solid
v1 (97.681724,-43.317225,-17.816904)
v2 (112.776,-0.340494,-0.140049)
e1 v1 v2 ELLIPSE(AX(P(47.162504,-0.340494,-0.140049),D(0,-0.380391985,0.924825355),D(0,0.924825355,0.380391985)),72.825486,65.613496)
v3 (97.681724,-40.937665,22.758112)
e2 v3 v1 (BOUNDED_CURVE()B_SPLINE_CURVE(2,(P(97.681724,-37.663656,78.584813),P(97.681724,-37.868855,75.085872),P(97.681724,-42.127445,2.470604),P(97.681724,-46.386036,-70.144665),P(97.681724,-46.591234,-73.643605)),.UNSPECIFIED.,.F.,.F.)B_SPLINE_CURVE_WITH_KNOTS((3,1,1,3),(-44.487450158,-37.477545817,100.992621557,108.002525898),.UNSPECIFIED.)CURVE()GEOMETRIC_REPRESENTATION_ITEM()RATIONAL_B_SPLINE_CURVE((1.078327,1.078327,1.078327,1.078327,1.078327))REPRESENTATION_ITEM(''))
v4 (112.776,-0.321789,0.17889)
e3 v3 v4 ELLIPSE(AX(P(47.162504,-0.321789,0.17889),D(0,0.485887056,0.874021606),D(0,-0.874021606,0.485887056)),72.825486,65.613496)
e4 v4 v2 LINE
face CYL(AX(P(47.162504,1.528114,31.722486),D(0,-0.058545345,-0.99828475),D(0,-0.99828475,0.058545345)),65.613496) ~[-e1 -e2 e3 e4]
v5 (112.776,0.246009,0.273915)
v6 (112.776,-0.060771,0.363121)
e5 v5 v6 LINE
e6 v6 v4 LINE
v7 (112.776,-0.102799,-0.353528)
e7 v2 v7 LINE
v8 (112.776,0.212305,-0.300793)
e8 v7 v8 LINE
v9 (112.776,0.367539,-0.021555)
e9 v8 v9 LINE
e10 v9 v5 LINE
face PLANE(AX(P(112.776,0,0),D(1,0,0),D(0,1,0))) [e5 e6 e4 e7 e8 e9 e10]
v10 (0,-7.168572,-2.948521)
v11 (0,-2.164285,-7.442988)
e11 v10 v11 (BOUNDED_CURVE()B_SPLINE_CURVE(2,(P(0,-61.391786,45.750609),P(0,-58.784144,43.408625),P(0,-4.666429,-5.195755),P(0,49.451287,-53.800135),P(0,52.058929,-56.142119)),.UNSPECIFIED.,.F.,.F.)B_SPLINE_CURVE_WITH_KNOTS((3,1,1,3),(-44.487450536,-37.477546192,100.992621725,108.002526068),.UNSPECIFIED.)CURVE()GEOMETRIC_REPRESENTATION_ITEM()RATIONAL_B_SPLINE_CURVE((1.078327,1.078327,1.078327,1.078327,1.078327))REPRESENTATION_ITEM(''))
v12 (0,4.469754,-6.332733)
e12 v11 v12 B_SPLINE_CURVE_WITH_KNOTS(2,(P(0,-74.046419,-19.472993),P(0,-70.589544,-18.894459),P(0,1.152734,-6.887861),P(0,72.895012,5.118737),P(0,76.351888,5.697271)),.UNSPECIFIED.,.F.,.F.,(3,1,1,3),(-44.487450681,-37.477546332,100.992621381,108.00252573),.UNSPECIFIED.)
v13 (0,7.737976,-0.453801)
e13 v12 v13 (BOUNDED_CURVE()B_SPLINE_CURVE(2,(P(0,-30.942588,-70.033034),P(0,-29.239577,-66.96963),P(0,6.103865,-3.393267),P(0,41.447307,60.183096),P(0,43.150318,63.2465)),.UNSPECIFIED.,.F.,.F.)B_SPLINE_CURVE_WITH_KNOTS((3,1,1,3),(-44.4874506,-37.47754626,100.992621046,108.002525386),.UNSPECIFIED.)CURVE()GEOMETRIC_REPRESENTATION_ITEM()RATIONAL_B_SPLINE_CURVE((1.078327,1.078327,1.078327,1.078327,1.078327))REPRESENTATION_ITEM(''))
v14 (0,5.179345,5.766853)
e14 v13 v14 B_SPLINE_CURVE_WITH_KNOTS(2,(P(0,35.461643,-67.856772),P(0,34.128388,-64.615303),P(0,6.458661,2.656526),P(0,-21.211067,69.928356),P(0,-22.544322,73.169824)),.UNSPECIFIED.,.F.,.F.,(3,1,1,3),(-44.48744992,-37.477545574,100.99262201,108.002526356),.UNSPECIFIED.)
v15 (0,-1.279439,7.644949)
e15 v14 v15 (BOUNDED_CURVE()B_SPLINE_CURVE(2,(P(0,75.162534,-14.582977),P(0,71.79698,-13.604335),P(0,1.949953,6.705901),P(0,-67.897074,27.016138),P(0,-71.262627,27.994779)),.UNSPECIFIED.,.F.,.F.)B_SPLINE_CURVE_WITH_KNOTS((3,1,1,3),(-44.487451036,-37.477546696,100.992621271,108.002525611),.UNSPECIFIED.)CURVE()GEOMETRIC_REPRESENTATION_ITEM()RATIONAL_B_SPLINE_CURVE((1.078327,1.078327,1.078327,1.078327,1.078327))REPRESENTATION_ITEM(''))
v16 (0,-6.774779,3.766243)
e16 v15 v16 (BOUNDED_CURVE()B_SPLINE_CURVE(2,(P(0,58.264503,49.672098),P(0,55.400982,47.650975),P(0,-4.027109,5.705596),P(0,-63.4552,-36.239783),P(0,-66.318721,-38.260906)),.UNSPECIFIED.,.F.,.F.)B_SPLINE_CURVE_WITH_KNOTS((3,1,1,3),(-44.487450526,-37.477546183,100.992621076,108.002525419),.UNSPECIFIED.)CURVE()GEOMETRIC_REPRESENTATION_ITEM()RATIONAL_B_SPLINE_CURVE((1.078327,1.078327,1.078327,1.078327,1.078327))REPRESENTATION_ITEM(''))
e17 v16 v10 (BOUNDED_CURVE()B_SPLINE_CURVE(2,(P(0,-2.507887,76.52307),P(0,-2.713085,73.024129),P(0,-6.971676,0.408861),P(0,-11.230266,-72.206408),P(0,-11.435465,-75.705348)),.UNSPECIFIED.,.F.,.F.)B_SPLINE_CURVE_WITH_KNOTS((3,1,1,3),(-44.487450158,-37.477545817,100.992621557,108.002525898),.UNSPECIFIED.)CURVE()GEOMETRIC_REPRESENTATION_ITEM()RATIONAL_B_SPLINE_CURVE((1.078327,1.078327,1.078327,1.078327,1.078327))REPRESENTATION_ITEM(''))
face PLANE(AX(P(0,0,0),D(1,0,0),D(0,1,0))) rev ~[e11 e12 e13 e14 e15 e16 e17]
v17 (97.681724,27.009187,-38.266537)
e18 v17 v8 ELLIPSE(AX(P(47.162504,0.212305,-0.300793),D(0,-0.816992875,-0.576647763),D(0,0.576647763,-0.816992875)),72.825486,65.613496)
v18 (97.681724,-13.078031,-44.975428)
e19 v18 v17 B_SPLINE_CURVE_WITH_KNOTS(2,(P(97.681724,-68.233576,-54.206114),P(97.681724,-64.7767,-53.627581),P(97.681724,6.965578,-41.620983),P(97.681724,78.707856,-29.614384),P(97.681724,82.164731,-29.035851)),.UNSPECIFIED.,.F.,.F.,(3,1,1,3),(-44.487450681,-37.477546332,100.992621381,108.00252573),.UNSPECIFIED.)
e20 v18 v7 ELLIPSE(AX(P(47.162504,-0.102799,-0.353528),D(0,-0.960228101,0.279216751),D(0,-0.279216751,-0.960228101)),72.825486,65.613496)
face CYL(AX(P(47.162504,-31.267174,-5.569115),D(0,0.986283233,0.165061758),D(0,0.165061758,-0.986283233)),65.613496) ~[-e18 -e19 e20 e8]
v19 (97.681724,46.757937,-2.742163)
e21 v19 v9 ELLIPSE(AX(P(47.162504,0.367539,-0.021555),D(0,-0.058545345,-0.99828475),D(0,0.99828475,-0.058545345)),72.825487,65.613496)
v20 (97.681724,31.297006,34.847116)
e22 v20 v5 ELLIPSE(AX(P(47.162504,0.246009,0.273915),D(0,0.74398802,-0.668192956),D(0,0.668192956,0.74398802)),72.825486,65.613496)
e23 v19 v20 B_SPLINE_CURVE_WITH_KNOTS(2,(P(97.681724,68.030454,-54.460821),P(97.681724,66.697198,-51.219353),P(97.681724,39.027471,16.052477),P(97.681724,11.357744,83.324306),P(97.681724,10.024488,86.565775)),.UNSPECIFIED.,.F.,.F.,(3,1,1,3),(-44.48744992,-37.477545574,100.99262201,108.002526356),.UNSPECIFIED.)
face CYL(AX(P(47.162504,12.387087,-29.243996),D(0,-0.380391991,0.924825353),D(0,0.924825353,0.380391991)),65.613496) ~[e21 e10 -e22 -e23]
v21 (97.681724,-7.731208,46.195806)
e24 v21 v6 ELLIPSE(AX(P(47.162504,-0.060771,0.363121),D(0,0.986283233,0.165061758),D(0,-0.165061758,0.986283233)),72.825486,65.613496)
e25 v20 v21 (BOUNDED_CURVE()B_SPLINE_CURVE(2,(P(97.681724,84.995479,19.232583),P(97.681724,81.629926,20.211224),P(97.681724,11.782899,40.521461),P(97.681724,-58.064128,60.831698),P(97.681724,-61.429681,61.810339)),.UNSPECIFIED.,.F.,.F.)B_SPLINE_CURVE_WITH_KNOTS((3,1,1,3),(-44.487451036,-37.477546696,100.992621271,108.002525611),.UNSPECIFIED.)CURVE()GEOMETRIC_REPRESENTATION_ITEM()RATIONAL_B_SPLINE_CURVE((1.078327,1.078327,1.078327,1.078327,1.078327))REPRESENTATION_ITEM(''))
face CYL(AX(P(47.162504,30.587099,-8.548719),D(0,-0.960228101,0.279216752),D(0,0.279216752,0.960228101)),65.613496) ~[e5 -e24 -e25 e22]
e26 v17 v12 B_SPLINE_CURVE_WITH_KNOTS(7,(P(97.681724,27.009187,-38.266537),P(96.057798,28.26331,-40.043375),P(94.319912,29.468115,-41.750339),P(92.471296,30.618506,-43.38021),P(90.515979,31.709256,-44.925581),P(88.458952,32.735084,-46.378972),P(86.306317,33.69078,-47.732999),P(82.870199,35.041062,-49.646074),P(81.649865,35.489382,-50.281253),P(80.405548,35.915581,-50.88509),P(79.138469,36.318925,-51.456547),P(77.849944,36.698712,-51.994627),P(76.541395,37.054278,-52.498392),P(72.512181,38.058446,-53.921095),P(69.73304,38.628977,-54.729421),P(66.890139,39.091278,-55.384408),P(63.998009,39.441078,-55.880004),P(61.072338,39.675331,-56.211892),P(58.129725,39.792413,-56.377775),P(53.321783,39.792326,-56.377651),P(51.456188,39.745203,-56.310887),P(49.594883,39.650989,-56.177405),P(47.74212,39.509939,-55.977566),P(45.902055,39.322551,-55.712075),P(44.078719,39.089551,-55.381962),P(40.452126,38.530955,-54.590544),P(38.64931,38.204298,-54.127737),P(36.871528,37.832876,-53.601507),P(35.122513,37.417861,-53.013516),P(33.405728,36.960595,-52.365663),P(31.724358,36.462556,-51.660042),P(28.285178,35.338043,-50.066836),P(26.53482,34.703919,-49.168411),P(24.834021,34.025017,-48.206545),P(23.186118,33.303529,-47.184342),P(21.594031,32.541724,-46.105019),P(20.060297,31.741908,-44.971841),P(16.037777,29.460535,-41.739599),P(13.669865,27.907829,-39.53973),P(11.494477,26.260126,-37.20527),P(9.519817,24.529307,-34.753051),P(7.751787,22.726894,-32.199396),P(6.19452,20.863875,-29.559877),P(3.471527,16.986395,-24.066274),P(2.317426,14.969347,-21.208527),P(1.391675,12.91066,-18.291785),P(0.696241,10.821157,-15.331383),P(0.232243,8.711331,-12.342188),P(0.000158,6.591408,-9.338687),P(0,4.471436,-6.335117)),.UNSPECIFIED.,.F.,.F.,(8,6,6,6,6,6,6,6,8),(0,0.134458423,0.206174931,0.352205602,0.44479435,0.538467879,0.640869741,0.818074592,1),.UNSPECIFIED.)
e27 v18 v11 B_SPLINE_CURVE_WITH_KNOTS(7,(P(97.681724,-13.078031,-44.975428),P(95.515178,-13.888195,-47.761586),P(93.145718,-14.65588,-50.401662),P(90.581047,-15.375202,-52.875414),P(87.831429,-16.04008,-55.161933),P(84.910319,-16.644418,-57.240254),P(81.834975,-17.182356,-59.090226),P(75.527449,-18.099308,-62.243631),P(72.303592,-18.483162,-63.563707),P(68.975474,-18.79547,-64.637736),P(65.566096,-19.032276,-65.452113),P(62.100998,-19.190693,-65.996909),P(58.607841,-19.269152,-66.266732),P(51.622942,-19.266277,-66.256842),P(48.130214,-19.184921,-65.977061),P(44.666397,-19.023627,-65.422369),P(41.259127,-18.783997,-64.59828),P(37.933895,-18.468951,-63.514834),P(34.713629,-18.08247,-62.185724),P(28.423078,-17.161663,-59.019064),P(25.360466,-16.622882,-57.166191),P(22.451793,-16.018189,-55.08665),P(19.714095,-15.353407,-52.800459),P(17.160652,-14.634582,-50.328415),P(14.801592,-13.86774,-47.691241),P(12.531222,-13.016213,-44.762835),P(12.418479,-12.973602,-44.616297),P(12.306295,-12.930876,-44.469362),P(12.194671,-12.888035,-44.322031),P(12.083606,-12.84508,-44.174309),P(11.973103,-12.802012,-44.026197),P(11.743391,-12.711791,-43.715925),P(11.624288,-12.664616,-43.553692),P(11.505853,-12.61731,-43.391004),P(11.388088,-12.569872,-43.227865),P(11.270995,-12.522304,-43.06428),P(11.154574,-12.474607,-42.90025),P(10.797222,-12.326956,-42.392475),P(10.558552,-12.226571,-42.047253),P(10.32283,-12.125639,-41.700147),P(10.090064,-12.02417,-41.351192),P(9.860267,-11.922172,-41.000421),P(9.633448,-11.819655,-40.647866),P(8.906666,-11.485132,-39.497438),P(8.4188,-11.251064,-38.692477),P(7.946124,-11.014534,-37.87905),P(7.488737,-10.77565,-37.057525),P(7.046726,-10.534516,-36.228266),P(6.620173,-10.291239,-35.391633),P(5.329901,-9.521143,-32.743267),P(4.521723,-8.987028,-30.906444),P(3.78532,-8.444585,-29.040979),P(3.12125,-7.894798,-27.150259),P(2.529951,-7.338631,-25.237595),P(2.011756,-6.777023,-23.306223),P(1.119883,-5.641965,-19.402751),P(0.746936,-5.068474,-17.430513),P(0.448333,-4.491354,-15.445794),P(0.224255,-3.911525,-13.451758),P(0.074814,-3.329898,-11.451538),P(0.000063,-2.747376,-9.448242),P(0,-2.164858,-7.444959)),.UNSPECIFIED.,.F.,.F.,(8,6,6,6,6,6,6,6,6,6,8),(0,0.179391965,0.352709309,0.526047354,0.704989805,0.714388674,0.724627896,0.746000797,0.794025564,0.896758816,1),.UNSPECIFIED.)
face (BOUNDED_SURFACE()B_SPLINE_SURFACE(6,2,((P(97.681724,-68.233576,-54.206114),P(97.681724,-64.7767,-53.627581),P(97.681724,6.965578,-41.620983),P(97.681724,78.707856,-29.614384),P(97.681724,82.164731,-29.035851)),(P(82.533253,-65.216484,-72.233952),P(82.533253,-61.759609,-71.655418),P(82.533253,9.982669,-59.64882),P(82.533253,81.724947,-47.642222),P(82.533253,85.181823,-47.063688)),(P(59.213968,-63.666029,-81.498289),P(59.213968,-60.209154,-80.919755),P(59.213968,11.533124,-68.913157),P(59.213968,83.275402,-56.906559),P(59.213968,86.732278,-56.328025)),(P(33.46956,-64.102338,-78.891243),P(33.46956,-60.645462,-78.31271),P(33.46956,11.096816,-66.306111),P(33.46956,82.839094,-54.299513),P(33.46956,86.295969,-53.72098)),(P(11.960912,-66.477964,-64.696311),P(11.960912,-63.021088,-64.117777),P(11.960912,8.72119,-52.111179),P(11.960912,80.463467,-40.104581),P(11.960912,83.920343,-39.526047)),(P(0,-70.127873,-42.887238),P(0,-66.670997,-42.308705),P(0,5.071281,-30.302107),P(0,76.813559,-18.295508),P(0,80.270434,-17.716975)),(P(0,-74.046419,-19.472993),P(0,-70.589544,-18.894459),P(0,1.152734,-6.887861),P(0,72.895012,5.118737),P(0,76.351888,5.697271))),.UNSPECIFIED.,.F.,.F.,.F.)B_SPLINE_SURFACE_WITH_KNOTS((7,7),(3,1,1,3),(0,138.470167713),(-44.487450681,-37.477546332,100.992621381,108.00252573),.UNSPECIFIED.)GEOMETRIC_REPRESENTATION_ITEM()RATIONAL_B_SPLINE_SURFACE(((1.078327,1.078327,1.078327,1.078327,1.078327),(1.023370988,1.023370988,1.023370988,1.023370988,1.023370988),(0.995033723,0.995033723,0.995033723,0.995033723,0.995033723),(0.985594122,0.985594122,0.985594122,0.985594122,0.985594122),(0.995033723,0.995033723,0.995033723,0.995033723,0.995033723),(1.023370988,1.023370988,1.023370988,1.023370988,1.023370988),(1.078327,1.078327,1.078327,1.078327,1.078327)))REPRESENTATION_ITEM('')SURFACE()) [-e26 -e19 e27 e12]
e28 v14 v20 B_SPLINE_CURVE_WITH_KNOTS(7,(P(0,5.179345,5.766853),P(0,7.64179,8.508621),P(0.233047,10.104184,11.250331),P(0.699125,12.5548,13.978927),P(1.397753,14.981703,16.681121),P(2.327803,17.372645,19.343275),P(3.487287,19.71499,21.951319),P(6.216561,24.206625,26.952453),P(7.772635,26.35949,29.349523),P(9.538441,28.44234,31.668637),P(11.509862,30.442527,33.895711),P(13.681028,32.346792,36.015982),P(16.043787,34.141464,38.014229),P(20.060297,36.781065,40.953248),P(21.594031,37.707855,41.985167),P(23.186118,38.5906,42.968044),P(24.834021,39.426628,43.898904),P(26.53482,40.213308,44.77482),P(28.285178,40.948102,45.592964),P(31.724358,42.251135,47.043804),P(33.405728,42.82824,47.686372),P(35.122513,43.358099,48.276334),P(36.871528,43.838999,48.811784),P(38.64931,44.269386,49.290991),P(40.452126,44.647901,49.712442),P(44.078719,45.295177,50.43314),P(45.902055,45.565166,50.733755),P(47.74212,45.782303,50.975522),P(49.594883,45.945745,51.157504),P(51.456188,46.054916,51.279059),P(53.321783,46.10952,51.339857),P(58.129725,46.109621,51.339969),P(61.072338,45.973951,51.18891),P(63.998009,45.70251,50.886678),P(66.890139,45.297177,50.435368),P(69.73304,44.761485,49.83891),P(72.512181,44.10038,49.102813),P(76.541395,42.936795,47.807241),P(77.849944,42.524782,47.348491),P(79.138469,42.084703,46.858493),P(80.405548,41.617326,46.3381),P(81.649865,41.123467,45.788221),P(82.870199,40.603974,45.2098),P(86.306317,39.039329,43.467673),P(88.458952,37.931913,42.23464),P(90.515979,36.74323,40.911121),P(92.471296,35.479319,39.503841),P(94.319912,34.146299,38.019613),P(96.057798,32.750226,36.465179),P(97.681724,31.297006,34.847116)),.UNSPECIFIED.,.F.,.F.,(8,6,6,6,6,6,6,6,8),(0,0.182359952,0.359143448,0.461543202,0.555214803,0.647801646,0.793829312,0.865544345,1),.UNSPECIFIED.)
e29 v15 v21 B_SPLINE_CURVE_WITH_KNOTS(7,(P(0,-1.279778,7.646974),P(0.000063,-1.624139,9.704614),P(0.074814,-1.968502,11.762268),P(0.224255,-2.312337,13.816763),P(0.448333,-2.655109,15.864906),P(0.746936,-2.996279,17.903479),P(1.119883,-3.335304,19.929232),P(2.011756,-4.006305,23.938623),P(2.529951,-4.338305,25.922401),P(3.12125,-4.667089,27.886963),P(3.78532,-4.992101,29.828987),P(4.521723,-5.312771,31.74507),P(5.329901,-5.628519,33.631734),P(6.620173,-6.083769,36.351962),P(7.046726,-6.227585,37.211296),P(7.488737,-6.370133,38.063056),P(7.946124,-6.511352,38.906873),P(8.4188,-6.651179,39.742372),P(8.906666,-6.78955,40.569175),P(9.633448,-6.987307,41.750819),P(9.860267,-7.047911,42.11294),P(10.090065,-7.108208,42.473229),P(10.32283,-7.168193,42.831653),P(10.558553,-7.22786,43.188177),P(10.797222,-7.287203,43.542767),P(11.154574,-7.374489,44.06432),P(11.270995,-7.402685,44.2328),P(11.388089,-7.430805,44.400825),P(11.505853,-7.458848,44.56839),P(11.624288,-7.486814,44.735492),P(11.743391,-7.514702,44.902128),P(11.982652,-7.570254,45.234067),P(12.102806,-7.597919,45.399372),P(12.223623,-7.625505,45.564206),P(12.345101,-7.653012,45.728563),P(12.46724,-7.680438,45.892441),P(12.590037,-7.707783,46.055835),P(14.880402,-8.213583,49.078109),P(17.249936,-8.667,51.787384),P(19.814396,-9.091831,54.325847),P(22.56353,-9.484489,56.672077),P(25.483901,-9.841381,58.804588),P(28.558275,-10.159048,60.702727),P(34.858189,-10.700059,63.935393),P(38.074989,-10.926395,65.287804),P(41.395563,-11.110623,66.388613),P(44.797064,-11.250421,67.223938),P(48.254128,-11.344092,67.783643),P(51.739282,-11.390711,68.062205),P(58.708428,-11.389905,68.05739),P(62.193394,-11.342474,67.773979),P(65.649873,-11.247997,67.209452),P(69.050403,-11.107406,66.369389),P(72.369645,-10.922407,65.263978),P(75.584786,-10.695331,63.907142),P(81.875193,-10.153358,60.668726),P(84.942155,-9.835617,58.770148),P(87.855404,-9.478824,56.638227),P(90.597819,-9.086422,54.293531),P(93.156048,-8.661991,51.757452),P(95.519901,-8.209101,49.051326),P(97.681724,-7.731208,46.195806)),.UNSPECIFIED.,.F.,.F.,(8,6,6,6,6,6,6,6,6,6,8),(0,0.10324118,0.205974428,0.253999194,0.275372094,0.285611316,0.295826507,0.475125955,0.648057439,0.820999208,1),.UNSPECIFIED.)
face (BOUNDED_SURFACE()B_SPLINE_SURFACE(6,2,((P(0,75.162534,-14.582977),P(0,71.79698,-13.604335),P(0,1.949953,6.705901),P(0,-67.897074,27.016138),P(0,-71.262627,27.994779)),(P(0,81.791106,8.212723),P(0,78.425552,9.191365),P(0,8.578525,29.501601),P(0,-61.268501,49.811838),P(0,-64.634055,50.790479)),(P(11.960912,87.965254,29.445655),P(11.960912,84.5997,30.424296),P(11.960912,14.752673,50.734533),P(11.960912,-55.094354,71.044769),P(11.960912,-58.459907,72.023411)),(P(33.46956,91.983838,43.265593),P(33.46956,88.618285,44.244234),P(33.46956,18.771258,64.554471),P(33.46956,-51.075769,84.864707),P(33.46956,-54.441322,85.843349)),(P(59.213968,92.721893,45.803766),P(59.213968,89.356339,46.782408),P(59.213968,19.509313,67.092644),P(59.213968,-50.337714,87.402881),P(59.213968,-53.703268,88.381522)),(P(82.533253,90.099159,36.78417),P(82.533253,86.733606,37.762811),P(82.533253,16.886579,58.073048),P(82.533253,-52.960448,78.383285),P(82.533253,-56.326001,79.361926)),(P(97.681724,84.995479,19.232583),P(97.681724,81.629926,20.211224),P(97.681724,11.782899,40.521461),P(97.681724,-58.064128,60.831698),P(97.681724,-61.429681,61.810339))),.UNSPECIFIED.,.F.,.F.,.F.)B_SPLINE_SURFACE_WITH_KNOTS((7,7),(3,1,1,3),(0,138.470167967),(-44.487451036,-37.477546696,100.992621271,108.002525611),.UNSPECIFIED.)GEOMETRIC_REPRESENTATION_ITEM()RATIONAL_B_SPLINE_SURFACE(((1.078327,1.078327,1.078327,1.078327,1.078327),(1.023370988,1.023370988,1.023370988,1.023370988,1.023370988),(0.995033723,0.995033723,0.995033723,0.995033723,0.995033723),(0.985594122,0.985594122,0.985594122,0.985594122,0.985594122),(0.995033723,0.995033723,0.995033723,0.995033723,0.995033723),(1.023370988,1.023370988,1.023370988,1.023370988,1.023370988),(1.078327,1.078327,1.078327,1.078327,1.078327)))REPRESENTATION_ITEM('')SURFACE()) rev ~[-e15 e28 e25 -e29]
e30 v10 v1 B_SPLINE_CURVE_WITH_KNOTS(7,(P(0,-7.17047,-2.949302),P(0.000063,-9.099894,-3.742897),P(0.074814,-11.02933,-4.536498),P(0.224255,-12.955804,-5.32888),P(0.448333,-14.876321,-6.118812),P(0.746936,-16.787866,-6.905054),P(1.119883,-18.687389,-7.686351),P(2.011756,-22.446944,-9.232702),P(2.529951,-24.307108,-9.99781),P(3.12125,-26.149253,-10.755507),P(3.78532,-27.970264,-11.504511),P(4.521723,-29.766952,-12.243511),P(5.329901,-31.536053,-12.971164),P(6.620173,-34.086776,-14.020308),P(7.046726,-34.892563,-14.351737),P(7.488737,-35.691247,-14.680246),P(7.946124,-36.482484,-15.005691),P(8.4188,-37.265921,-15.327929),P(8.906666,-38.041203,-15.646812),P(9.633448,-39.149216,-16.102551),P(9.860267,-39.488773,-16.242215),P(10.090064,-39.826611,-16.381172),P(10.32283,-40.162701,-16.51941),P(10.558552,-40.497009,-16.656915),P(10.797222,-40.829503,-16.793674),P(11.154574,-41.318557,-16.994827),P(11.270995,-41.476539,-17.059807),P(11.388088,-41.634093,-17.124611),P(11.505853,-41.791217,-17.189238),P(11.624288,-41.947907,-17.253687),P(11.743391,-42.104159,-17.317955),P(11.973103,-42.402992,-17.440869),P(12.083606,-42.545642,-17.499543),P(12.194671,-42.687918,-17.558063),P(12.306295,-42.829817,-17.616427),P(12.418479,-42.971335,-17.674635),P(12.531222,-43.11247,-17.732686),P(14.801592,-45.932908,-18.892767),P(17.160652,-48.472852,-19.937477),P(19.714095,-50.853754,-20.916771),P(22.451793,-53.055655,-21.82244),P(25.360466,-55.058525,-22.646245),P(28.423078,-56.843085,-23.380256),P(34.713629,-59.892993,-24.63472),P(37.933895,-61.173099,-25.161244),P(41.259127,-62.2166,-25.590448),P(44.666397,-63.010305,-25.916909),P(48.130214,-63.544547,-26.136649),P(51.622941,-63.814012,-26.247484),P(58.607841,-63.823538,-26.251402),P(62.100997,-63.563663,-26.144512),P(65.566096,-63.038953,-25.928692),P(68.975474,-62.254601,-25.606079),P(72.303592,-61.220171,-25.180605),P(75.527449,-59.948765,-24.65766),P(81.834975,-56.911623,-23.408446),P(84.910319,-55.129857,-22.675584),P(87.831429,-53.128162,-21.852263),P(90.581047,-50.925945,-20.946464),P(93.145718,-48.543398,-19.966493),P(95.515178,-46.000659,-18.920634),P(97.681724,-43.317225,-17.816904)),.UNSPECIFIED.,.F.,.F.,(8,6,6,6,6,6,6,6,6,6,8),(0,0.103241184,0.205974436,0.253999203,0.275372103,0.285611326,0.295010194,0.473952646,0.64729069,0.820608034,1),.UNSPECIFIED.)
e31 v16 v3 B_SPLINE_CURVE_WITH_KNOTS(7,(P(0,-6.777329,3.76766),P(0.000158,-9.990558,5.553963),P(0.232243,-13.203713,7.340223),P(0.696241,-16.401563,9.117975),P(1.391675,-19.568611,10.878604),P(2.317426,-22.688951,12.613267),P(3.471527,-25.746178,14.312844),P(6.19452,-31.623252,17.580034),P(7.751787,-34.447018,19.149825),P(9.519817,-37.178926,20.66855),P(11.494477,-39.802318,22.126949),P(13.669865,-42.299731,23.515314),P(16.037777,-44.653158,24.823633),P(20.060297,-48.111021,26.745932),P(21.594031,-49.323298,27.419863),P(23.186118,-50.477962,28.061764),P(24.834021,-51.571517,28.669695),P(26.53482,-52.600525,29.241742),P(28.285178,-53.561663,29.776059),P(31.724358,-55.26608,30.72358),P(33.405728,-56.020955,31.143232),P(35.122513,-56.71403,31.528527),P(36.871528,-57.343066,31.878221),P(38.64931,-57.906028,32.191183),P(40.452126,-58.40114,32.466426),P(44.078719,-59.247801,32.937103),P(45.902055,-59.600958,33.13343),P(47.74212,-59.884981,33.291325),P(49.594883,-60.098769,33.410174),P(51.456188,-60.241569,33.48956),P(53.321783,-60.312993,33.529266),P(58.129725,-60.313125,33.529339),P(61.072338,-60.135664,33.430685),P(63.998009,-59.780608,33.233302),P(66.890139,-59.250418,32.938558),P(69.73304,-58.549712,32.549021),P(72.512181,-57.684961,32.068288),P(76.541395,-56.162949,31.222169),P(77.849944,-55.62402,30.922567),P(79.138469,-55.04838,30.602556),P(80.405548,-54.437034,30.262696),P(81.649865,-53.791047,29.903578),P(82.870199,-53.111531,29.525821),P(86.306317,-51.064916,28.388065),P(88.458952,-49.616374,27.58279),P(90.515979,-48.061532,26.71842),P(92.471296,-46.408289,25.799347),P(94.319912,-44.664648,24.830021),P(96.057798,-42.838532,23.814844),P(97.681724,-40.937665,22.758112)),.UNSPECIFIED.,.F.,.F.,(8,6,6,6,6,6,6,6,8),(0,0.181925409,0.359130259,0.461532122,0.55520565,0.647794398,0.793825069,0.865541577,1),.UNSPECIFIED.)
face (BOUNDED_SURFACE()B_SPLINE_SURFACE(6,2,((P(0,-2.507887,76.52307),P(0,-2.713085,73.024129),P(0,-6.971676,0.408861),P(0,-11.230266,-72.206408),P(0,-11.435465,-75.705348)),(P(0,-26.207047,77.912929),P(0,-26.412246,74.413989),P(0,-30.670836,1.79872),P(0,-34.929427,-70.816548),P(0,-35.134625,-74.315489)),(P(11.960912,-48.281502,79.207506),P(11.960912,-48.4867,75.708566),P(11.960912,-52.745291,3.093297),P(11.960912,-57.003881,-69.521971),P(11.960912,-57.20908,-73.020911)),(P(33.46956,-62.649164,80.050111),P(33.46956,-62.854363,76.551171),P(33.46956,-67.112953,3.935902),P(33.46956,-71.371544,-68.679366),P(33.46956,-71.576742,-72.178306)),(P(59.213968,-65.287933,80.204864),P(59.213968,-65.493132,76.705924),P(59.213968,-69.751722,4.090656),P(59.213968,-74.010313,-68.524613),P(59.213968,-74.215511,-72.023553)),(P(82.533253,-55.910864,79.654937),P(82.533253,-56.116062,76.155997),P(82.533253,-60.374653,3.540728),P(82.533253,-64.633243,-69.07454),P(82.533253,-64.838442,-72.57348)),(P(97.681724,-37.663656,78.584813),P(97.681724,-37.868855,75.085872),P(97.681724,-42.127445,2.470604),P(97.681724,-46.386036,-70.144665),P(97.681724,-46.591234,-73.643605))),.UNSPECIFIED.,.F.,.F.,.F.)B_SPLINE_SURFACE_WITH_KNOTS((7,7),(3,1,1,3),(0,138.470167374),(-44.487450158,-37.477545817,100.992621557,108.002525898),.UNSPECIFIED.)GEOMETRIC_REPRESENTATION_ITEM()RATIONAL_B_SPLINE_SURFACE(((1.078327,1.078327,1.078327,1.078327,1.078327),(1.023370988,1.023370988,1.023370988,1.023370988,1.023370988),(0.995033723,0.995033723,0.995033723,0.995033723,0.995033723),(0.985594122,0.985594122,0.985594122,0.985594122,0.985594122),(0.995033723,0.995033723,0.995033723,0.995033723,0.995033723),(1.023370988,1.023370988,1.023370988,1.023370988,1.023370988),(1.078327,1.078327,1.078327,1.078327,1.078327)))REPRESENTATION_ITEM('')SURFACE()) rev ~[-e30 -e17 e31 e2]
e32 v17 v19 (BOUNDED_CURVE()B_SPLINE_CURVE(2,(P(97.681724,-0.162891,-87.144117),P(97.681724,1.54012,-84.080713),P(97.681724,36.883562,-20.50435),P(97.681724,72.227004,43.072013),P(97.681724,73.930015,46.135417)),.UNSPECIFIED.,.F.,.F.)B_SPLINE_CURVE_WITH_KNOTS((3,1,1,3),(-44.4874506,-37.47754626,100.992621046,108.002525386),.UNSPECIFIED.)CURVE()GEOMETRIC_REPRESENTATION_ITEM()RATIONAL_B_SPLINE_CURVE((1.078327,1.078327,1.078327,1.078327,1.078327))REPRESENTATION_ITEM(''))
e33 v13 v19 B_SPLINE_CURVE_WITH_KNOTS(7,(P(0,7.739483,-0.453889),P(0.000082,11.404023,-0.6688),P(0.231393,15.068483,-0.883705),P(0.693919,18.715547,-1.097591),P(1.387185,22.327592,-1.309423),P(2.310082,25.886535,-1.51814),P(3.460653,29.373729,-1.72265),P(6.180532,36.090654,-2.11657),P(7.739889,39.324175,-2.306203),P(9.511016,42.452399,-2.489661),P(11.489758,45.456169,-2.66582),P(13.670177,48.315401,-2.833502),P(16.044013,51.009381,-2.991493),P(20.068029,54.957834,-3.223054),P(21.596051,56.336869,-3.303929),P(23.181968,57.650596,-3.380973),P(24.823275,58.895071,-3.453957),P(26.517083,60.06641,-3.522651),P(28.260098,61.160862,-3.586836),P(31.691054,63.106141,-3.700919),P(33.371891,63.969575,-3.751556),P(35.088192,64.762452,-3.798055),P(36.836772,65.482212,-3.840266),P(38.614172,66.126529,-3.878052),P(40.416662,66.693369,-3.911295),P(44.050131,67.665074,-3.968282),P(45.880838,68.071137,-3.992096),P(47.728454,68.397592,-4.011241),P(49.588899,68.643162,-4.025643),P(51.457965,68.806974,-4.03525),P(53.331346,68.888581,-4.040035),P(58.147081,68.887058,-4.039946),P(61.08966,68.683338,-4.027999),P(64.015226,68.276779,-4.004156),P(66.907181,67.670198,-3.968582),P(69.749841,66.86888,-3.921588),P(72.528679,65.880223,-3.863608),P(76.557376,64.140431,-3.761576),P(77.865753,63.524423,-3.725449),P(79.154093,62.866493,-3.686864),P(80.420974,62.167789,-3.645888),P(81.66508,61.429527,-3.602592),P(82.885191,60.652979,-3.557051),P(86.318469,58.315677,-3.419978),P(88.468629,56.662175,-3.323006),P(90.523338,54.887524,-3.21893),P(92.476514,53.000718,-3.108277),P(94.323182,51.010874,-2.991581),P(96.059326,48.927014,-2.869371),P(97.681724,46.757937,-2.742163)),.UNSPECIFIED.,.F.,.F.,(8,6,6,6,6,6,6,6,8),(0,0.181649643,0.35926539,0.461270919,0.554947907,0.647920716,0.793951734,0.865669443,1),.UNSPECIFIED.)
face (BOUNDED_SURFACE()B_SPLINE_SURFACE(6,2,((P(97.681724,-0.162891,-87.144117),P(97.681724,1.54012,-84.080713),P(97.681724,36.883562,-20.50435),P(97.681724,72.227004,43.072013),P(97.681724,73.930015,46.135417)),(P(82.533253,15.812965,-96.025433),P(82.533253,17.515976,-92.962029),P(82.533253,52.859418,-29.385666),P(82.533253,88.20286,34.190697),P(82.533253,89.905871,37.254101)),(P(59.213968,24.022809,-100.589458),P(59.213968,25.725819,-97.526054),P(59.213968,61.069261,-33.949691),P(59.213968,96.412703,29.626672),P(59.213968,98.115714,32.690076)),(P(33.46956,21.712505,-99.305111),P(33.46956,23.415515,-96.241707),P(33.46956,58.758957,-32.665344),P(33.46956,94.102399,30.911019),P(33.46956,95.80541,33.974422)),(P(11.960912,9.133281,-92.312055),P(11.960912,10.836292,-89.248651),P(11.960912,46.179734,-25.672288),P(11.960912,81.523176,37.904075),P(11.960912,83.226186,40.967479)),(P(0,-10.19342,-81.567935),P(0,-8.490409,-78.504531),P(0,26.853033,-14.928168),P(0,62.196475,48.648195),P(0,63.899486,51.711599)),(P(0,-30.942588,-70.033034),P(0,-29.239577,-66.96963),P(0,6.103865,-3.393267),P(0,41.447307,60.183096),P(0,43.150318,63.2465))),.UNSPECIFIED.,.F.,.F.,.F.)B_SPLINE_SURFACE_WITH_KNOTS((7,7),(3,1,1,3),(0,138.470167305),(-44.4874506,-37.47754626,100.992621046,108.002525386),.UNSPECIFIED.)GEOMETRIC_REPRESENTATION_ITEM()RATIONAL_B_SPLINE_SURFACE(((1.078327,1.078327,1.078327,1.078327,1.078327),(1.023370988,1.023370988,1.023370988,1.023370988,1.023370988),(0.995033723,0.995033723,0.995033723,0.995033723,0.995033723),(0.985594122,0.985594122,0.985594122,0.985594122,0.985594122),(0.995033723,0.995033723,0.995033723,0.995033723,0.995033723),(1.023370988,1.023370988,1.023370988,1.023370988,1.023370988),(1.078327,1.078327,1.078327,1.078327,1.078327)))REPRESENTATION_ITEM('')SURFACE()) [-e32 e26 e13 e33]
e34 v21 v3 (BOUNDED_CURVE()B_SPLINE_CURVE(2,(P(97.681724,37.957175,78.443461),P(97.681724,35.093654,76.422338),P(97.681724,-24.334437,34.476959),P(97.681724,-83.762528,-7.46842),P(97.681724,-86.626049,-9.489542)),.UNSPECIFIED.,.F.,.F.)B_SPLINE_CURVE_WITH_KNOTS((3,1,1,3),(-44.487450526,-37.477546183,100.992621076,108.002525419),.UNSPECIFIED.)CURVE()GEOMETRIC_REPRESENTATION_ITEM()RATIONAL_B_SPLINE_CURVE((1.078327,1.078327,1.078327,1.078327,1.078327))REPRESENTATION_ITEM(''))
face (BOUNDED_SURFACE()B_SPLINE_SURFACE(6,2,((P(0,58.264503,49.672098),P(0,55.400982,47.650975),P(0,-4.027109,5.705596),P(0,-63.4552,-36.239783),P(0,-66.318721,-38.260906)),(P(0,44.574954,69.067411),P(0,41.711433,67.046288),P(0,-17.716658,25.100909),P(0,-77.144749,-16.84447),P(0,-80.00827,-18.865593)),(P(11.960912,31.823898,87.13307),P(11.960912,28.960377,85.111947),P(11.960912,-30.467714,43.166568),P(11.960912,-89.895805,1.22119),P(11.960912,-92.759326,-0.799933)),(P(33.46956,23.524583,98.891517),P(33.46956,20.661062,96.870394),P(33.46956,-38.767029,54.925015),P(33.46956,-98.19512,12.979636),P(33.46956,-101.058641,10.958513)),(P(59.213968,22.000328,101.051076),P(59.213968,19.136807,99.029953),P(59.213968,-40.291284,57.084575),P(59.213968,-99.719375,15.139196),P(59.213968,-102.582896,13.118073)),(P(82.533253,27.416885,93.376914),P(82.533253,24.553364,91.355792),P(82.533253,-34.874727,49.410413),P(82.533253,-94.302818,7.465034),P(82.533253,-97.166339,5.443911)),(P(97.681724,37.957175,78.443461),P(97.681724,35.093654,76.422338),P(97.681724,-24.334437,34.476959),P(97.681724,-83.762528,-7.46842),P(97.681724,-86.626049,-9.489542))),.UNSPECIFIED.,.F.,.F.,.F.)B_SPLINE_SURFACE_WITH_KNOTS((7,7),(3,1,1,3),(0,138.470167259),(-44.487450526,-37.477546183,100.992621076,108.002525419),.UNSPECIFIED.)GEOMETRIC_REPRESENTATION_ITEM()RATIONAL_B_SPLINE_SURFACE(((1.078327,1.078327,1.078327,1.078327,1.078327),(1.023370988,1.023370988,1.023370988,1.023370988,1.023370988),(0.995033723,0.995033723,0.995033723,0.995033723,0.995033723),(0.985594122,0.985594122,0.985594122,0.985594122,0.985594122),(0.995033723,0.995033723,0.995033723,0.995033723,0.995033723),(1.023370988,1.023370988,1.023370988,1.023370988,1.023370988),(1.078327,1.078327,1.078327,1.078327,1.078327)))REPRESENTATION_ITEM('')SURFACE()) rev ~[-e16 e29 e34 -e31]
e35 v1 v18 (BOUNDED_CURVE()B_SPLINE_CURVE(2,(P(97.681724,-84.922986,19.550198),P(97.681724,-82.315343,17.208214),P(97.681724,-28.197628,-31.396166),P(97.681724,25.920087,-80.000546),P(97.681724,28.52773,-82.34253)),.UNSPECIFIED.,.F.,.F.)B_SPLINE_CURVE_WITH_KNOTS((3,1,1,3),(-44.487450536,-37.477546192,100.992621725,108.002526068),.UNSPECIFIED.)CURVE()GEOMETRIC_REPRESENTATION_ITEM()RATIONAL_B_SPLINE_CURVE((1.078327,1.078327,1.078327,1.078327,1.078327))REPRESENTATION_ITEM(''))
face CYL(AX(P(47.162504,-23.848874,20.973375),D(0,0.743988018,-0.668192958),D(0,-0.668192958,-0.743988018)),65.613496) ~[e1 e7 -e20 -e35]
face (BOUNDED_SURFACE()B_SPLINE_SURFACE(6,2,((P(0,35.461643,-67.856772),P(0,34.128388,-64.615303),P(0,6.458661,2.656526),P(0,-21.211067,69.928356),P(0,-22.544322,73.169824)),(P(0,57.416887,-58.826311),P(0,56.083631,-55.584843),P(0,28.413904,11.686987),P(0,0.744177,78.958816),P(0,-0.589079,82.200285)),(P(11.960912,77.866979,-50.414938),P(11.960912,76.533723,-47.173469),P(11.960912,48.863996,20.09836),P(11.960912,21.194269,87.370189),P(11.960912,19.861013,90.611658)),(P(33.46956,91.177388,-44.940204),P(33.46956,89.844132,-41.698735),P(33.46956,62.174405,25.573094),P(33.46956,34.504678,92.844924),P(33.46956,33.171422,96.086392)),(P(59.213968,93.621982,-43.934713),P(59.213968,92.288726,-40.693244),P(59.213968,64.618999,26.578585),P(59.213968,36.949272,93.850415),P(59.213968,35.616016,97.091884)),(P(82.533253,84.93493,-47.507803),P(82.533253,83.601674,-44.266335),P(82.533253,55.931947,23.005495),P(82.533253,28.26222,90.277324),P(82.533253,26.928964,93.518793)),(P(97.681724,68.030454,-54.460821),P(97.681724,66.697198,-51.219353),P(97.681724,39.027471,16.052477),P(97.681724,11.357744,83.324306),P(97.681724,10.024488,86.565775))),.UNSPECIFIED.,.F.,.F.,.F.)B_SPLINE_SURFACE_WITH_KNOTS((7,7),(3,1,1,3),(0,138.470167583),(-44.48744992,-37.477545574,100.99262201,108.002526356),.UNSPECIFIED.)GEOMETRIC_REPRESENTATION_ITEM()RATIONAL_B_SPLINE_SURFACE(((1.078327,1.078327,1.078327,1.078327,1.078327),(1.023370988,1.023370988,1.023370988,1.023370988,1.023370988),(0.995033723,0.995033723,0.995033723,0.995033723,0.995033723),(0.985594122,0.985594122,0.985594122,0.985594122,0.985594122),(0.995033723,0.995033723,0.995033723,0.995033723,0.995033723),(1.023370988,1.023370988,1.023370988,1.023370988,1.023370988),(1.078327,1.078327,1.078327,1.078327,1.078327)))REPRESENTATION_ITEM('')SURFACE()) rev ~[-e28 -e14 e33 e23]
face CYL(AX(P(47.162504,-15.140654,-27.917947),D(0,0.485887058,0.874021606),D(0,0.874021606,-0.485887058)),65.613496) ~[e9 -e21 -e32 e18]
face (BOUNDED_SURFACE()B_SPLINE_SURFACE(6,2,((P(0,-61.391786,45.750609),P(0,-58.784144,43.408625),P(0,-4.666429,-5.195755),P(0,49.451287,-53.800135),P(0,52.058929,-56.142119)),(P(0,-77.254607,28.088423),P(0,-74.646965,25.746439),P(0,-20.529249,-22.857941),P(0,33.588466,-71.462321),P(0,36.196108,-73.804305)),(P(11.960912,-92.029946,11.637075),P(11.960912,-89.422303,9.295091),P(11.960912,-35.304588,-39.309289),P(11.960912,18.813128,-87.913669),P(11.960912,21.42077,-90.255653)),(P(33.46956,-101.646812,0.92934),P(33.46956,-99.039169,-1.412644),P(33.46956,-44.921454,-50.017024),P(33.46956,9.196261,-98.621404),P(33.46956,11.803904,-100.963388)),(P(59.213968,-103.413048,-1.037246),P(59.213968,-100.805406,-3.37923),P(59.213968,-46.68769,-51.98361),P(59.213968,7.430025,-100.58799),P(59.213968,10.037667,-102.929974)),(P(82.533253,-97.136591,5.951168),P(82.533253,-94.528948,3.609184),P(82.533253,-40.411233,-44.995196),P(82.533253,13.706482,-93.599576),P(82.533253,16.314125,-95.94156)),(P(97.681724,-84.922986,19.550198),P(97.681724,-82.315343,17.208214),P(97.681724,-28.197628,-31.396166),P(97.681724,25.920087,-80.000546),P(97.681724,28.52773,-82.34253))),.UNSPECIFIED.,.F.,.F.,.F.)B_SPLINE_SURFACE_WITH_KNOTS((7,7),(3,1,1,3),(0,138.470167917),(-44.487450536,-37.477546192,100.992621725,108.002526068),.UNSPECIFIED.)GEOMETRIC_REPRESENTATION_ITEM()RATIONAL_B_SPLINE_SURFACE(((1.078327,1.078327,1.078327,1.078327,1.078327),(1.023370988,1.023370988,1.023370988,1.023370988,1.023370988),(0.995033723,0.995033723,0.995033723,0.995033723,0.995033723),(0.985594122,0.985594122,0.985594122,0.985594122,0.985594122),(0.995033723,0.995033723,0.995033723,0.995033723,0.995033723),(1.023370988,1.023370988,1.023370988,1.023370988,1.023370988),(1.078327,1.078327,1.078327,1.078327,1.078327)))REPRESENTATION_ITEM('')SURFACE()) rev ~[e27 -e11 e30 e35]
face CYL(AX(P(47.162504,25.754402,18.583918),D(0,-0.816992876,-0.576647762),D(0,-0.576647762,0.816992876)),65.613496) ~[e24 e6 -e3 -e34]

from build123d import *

# Parameters (mm, degrees)
F2_DEPTH = 112.776
F3_R     = 65.613496
F4_R     = 55.188922


with BuildPart() as f2:
    # F1 (on face) → F2 (new body)
    with BuildSketch(Plane.YZ):
        Polygon((42.206959, -59.798696), (73.068112, -4.285148), (48.907486, 54.455204), (-12.081474, 72.189677), (-63.972838, 35.563851), (-67.69135, -27.84228), (-20.436895, -70.282606), align=None)
    extrude(amount=F2_DEPTH)

    # F3
    f3_edges = [f2.edges().sort_by_distance(p)[0] for p in [
        (112.776, -44.064122, -49.062443),
        (112.776, 10.885032, -65.040651),
        (112.776, 57.637535, -32.041922),
        (112.776, 60.987799, 25.085028),
        (112.776, 18.413006, 63.32244),
        (112.776, -38.027156, 53.876764),
        (112.776, -65.832094, 3.860785),
    ]]
    fillet(f3_edges, radius=F3_R)

    # F4
    f4_edges = [f2.edges().sort_by_distance(p)[0] for p in [
        (0, -65.832094, 3.860785),
        (0, -38.027156, 53.876764),
        (0, 18.413006, 63.32244),
        (0, 60.987799, 25.085028),
        (0, 57.637535, -32.041922),
        (0, 10.885032, -65.040651),
        (0, -44.064122, -49.062443),
    ]]
    fillet(f4_edges, radius=F4_R)


solid = f2.part
